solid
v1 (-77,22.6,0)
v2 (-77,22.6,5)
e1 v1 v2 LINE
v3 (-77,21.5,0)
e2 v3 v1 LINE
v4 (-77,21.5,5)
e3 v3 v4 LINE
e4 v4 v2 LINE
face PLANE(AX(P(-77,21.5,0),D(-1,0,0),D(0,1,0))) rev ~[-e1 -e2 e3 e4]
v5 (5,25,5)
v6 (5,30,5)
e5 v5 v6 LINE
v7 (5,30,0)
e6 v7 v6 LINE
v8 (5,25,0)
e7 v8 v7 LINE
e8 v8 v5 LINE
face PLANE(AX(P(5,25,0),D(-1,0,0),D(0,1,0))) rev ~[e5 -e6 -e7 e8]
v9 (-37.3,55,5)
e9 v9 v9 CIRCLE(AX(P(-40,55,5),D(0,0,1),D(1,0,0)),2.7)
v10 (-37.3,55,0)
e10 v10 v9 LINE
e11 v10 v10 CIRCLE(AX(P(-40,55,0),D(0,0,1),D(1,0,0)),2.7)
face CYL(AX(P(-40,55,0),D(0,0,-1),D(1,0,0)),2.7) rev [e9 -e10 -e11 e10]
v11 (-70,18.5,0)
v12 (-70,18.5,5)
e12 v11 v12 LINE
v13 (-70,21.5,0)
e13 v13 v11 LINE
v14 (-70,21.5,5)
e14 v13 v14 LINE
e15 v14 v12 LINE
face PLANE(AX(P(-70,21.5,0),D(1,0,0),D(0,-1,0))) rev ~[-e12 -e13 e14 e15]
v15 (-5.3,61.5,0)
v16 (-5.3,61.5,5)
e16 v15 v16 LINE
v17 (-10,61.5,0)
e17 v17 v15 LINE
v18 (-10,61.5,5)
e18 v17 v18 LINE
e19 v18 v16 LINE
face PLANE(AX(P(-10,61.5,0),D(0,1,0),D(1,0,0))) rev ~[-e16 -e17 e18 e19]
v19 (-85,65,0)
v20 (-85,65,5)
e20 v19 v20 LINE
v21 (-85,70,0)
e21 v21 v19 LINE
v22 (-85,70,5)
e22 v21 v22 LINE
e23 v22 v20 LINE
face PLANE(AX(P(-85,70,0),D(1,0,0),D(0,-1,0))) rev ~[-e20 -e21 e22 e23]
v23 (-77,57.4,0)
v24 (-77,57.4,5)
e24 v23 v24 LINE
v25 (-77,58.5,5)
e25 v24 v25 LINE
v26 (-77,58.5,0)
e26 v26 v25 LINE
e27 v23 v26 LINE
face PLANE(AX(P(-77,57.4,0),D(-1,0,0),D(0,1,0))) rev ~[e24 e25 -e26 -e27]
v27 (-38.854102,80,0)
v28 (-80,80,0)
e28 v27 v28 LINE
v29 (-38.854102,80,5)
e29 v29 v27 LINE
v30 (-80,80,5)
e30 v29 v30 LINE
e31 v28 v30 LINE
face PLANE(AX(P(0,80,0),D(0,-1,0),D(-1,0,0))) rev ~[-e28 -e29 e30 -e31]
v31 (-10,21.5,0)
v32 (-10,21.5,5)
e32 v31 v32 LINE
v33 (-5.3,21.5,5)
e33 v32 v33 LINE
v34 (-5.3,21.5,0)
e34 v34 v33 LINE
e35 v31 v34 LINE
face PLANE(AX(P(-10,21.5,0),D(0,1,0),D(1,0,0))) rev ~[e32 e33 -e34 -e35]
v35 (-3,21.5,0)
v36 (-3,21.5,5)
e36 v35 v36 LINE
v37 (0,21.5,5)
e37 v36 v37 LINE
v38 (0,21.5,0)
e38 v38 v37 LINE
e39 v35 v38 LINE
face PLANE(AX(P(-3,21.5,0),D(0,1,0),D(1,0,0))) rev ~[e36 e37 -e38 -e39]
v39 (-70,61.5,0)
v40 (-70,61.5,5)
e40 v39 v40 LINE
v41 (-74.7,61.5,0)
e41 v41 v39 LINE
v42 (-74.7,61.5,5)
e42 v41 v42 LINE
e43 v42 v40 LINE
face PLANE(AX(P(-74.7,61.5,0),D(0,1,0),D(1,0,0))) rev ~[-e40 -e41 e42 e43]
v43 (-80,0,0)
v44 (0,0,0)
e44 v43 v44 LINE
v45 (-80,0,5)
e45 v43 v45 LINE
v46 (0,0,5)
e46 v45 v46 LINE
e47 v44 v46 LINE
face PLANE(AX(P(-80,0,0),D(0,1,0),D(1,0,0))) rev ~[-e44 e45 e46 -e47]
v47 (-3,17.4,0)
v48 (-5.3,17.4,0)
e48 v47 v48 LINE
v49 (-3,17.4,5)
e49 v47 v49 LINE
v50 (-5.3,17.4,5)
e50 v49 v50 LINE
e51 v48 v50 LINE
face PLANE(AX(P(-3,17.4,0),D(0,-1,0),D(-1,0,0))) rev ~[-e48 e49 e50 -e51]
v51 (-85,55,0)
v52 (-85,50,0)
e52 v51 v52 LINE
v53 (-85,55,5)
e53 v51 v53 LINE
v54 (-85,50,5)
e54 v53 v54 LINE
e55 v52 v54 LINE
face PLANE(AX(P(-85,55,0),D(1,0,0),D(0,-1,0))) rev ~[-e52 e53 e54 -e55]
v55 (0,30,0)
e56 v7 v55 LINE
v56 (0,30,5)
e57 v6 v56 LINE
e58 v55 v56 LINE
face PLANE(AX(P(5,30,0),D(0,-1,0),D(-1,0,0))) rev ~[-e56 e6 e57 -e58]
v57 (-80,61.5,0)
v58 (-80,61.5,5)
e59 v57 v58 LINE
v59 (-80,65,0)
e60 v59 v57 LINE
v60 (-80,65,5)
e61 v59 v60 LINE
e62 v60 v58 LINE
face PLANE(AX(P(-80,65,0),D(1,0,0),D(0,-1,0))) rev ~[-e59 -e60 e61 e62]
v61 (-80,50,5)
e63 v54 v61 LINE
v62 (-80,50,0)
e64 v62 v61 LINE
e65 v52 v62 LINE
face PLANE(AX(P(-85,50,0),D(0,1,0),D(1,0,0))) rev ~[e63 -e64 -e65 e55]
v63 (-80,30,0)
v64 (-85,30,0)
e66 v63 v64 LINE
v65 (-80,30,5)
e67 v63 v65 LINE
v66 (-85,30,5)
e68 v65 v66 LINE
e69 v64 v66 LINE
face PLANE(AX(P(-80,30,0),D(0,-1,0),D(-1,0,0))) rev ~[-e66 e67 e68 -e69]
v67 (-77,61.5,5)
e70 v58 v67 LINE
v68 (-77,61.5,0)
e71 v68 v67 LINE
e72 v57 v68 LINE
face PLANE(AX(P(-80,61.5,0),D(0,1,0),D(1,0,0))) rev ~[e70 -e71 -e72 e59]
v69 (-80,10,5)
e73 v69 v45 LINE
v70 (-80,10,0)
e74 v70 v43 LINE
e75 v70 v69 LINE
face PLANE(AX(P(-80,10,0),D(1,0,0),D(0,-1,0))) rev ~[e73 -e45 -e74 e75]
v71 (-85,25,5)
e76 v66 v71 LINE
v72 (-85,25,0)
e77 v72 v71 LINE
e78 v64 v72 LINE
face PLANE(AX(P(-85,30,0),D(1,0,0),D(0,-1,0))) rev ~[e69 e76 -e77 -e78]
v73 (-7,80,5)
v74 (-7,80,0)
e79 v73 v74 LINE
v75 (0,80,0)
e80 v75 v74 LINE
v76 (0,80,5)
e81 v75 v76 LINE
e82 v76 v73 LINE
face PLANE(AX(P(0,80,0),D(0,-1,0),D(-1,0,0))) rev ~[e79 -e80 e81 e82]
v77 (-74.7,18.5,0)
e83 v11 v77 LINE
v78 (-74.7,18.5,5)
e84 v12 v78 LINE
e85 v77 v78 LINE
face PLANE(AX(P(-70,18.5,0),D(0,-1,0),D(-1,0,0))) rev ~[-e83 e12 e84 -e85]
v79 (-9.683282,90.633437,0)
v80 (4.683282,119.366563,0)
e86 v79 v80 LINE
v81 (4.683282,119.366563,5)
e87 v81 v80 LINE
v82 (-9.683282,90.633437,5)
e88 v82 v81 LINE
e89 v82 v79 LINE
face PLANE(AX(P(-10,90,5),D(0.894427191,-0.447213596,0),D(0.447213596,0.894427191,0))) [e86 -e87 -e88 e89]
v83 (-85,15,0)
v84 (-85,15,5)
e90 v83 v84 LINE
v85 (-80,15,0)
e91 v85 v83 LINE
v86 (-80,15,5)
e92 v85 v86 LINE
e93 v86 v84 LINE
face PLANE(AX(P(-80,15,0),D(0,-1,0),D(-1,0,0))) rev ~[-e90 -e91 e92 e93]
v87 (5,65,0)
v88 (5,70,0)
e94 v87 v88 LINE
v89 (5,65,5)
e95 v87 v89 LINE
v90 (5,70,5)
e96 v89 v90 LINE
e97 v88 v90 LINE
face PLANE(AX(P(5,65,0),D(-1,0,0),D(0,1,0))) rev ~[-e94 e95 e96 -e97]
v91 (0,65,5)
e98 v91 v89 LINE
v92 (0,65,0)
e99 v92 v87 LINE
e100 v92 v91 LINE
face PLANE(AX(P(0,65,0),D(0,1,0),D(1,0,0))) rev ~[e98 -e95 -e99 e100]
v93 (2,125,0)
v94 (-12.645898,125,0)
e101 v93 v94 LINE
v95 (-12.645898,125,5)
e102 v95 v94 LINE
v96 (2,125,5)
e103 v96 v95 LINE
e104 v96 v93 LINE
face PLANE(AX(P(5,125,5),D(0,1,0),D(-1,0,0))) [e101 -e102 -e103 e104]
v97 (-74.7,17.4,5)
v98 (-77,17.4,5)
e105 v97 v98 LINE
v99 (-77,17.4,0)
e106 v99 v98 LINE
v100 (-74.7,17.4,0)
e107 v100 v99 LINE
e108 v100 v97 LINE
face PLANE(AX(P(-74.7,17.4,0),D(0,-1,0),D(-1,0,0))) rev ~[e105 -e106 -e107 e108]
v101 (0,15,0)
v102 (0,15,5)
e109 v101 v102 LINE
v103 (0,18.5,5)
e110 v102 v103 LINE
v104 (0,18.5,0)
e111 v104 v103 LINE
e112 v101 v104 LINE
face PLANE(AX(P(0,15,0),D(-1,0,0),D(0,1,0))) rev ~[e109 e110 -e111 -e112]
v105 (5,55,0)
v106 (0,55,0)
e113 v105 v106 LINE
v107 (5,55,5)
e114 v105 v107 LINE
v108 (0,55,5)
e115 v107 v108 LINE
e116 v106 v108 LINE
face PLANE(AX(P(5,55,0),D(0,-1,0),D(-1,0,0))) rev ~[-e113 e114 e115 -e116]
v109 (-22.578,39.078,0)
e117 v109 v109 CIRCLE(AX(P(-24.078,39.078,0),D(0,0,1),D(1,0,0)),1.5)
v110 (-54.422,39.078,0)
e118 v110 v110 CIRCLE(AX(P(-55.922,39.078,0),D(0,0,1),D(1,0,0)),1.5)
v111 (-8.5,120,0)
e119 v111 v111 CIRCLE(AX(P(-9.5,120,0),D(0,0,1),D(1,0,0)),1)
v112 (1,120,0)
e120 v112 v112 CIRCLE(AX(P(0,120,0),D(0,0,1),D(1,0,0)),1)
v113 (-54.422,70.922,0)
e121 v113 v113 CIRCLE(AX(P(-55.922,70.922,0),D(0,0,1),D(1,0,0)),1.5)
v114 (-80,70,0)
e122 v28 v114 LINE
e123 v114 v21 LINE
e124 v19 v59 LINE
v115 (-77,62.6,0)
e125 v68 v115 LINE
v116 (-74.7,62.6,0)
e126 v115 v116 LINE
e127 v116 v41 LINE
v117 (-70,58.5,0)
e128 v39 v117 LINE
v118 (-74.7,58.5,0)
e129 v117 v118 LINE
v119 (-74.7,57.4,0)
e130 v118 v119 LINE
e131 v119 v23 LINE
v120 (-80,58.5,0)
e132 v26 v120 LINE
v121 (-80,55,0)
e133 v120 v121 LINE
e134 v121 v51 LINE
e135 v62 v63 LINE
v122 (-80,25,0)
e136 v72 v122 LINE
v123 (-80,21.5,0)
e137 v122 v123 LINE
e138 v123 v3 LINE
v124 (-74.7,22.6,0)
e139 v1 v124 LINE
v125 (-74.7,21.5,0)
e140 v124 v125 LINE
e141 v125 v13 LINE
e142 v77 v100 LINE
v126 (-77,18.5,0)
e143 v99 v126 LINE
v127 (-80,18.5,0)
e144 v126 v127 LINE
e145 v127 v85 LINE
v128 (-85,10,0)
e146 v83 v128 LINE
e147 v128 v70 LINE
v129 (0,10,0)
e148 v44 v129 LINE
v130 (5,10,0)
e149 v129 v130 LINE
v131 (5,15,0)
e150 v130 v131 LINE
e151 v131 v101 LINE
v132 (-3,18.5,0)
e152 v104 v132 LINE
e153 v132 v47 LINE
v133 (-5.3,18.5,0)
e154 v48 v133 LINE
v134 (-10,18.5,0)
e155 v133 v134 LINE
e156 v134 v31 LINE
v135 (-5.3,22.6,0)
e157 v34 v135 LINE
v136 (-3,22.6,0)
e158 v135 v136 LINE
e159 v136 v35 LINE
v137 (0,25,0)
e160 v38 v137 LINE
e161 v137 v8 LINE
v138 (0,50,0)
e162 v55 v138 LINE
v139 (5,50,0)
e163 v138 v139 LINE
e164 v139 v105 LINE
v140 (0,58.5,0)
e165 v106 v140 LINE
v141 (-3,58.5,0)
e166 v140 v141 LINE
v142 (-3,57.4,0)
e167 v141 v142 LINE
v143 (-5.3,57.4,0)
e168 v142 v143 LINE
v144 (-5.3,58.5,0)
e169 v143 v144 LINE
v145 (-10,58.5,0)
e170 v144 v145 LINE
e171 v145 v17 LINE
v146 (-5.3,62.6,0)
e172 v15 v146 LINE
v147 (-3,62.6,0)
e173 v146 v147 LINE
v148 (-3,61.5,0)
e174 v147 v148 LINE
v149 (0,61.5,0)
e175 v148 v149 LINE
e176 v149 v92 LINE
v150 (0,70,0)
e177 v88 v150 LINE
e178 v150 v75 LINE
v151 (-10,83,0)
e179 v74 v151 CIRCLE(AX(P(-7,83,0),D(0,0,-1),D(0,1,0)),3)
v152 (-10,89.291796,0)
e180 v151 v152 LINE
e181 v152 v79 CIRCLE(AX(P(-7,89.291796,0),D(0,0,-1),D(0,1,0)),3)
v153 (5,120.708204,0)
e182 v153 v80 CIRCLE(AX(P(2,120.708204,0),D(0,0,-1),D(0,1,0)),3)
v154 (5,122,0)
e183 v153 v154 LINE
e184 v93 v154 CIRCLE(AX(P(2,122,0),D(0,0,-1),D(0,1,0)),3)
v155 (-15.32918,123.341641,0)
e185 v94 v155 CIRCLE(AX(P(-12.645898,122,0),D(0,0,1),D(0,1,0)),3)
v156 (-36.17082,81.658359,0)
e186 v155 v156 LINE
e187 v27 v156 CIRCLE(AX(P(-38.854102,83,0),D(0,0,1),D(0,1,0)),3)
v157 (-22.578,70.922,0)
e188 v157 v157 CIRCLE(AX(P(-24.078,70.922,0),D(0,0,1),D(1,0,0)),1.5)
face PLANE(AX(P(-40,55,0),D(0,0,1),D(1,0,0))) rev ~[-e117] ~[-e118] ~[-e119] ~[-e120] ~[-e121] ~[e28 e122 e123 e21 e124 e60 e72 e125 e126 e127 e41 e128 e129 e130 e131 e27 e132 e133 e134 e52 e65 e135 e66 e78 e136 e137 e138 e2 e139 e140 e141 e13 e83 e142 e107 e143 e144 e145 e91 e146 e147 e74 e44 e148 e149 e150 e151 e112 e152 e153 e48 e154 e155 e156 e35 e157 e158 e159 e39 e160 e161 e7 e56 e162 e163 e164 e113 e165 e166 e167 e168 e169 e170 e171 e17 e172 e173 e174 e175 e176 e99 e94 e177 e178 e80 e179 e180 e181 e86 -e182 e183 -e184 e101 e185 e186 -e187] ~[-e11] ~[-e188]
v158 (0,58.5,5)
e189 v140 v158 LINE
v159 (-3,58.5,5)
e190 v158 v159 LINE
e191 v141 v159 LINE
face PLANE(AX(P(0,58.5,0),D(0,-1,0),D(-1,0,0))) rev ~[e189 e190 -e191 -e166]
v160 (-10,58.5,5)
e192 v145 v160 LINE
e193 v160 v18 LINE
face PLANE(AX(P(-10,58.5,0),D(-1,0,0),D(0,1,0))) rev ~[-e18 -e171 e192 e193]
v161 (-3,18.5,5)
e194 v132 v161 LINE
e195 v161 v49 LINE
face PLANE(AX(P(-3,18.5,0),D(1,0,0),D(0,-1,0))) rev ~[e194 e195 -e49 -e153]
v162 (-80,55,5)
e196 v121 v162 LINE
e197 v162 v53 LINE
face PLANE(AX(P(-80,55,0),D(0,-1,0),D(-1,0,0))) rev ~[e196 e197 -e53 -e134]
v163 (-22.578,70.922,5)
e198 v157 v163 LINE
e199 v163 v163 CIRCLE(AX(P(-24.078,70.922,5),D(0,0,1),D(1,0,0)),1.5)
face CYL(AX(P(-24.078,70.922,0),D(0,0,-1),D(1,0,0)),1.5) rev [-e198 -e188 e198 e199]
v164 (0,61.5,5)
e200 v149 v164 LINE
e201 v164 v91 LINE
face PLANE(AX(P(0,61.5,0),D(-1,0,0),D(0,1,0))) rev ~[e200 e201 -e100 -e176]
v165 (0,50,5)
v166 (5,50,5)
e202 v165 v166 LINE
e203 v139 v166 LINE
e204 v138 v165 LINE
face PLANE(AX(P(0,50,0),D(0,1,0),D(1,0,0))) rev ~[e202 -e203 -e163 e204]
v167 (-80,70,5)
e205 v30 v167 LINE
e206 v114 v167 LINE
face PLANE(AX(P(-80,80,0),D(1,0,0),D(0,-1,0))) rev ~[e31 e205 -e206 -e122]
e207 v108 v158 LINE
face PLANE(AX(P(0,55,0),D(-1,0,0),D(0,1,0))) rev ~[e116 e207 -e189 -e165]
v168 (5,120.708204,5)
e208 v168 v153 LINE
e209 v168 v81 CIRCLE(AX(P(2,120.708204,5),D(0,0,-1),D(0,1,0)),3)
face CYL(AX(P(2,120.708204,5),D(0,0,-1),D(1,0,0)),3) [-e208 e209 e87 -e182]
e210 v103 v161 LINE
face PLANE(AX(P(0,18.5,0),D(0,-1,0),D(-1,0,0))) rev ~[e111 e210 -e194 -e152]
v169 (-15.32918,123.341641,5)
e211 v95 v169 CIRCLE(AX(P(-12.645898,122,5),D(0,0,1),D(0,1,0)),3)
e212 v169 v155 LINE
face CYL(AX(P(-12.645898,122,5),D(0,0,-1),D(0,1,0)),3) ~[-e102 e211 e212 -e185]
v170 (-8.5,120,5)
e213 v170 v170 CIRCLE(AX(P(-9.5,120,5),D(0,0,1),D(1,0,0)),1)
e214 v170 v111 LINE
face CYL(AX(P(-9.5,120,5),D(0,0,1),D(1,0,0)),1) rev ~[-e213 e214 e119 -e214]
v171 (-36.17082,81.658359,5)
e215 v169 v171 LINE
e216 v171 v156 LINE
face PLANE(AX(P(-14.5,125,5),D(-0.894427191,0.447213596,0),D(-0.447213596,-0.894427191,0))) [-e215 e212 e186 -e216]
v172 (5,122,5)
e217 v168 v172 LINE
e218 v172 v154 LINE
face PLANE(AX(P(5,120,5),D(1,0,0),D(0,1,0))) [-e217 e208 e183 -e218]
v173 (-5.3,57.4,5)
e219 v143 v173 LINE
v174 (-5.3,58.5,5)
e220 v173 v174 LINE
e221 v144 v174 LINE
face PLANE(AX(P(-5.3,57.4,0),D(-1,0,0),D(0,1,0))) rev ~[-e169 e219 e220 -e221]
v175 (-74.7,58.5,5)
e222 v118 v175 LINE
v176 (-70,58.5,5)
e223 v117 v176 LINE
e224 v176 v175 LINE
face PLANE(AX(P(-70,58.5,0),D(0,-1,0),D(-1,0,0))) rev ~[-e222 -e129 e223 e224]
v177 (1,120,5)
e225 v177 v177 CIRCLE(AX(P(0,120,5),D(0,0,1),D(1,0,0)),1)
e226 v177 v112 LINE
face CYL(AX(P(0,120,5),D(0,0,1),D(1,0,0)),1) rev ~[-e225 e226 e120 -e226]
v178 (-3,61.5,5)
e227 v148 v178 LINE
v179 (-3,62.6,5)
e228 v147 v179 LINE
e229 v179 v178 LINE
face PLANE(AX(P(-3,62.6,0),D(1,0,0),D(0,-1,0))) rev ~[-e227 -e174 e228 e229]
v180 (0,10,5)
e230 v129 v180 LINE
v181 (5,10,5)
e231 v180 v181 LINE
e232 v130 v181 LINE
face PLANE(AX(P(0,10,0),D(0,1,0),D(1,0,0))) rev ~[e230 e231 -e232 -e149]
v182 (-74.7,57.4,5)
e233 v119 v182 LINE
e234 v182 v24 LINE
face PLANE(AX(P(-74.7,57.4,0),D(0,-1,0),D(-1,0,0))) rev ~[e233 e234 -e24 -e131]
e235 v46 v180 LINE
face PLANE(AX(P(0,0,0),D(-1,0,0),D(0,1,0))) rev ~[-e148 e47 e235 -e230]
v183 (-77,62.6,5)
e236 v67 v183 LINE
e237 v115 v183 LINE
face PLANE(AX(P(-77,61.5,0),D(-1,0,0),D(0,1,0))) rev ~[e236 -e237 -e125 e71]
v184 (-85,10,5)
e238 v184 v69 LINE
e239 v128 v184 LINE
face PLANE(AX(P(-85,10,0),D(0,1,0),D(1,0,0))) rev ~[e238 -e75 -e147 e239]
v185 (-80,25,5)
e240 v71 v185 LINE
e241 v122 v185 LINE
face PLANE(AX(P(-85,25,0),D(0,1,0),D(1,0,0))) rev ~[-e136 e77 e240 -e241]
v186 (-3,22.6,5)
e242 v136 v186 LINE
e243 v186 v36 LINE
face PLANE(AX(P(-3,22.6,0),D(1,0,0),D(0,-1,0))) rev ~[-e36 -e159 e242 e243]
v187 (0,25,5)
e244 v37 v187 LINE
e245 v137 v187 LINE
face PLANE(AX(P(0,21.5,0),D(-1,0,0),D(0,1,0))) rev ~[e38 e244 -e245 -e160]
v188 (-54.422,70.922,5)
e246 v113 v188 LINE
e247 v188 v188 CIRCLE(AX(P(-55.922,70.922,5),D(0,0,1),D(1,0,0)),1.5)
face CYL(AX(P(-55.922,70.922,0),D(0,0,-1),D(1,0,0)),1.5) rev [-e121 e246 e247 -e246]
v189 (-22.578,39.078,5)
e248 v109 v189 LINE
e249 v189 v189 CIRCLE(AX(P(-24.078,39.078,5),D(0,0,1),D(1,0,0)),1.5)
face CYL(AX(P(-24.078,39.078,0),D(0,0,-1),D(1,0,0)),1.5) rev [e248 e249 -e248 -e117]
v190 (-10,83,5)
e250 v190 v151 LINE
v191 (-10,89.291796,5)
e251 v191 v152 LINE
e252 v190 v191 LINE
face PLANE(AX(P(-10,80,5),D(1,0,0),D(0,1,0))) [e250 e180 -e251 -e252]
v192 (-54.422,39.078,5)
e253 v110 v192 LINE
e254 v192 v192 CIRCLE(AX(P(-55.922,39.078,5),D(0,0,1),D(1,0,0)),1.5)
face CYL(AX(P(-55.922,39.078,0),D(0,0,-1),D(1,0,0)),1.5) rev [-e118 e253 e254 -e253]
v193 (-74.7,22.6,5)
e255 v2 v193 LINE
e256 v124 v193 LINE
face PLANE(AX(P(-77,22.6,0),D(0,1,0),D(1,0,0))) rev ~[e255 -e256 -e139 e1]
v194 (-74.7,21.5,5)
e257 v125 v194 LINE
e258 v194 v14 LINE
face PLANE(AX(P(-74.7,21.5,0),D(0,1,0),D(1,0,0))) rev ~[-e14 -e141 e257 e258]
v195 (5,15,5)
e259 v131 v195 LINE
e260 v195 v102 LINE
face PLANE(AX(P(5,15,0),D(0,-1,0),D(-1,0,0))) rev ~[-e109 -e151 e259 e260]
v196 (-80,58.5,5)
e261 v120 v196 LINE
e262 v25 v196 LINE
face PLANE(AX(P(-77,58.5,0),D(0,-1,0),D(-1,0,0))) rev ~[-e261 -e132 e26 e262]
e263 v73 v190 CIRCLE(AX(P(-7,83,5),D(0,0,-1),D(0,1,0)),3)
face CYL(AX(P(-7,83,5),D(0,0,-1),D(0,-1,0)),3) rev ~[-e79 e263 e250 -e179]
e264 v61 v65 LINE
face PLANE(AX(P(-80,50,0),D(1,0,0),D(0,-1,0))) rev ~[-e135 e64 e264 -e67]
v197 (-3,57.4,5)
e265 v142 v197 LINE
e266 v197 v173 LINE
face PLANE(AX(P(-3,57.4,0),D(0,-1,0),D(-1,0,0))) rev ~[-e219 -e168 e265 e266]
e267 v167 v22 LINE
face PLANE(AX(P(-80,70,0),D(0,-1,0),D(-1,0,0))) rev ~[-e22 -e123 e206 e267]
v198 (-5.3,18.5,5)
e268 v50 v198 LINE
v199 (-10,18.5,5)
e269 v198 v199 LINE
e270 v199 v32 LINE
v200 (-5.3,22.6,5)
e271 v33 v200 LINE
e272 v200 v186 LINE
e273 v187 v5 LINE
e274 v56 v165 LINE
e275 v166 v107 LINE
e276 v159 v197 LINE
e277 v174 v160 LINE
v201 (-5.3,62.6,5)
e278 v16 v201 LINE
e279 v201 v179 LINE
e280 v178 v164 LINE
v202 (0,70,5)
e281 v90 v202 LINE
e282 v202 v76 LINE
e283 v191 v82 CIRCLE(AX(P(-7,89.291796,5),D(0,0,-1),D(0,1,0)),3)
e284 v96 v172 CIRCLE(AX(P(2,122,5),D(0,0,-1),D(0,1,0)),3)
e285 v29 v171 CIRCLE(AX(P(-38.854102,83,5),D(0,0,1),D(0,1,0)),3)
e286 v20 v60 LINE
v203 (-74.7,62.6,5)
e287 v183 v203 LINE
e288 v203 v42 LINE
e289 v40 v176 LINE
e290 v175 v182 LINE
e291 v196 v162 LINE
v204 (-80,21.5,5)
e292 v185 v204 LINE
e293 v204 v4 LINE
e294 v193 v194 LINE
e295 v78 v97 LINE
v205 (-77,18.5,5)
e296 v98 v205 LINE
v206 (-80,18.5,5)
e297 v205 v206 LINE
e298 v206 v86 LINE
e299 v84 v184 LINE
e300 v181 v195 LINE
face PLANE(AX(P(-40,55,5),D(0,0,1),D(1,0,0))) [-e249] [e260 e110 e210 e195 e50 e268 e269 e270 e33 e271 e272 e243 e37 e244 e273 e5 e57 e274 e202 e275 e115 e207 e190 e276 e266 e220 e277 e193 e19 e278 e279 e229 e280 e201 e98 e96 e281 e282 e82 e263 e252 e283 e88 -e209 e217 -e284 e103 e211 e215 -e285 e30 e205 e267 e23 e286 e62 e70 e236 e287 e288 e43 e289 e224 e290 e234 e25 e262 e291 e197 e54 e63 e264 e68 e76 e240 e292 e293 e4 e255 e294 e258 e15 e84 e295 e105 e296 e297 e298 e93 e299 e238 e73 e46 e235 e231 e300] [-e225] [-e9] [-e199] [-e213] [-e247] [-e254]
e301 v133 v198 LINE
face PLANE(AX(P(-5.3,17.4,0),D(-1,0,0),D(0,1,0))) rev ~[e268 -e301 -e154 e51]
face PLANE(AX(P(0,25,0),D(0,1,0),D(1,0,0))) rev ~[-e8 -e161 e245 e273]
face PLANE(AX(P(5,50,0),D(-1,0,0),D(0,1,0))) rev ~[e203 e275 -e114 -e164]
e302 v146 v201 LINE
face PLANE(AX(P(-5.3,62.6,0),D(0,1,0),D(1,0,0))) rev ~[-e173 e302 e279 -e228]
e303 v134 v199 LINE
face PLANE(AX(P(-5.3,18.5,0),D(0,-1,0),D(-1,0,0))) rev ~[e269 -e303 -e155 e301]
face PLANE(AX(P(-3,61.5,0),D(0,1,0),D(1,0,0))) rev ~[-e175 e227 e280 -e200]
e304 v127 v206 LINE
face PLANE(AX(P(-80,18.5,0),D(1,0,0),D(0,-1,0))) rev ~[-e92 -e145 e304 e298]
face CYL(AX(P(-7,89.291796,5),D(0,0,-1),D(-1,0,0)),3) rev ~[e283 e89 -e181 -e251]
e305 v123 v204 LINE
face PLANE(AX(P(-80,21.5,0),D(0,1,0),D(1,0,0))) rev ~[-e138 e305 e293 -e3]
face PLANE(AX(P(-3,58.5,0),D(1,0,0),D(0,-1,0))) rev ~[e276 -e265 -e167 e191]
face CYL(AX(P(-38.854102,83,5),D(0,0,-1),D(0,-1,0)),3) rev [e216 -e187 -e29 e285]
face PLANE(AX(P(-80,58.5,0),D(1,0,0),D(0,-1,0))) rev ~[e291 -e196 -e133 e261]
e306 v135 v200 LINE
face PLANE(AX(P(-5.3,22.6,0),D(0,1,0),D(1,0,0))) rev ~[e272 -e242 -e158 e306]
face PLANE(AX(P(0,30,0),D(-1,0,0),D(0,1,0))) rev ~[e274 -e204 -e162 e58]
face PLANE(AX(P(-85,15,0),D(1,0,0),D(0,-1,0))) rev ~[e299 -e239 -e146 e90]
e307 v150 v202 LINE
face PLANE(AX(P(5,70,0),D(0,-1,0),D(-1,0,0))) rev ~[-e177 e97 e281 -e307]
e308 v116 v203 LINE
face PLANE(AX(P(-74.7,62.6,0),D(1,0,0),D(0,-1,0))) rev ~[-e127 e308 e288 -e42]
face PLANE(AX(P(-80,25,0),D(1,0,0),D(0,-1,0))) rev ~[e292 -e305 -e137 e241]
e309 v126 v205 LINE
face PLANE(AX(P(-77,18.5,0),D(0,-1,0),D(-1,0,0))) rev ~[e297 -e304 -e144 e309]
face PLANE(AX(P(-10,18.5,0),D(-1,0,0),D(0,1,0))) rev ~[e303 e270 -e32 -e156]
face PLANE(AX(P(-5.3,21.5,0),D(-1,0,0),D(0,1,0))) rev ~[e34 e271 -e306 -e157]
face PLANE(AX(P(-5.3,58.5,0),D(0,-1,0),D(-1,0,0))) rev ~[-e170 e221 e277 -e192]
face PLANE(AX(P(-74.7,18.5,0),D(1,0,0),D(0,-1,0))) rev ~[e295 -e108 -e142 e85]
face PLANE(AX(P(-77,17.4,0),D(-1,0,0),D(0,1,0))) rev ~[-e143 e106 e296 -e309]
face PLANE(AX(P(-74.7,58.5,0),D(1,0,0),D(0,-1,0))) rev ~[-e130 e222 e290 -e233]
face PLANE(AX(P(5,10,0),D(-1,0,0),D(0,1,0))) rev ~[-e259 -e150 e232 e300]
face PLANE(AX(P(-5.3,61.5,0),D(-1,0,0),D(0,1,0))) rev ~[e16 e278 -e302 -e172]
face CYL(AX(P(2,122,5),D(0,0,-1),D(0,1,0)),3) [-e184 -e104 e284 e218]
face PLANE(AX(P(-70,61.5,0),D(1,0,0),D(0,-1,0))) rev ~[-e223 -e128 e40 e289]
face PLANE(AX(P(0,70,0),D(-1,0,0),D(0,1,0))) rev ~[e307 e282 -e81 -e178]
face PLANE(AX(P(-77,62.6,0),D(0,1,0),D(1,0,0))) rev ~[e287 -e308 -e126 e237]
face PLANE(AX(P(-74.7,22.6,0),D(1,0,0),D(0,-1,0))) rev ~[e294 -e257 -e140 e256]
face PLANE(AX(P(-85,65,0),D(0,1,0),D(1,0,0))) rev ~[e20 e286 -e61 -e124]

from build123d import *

# Parameters (mm, degrees)
SKETCH1_R           = 1.5
SKETCH1_R_2         = 11.5
BOSS_EXTRUDE1_DEPTH = 5
BOSS_EXTRUDE2_START = -5
SKETCH2_R           = 11.5
SKETCH2_R_2         = 2.7
BOSS_EXTRUDE2_DEPTH = 5
SKETCH3_R           = 1
BOSS_EXTRUDE3_DEPTH = 5
FILLET1_R           = 3


with BuildPart() as part:
    # Sketch1 → Boss-Extrude1 (new body)
    with BuildSketch(Plane.XY):
        Polygon((0, 80), (-80, 80), (-80, 70), (-85, 70), (-85, 65), (-80, 65), (-80, 61.5), (-77, 61.5), (-77, 62.6), (-74.7, 62.6), (-74.7, 61.5), (-70, 61.5), (-70, 58.5), (-74.7, 58.5), (-74.7, 57.4), (-77, 57.4), (-77, 58.5), (-80, 58.5), (-80, 55), (-85, 55), (-85, 50), (-80, 50), (-80, 30), (-85, 30), (-85, 25), (-80, 25), (-80, 21.5), (-77, 21.5), (-77, 22.6), (-74.7, 22.6), (-74.7, 21.5), (-70, 21.5), (-70, 18.5), (-74.7, 18.5), (-74.7, 17.4), (-77, 17.4), (-77, 18.5), (-80, 18.5), (-80, 15), (-85, 15), (-85, 10), (-80, 10), (-80, 0), (0, 0), (0, 10), (5, 10), (5, 15), (0, 15), (0, 18.5), (-3, 18.5), (-3, 17.4), (-5.3, 17.4), (-5.3, 18.5), (-10, 18.5), (-10, 21.5), (-5.3, 21.5), (-5.3, 22.6), (-3, 22.6), (-3, 21.5), (0, 21.5), (0, 25), (5, 25), (5, 30), (0, 30), (0, 50), (5, 50), (5, 55), (0, 55), (0, 58.5), (-3, 58.5), (-3, 57.4), (-5.3, 57.4), (-5.3, 58.5), (-10, 58.5), (-10, 61.5), (-5.3, 61.5), (-5.3, 62.6), (-3, 62.6), (-3, 61.5), (0, 61.5), (0, 65), (5, 65), (5, 70), (0, 70), align=None)
        with Locations((-55.922, 70.922)):
            Circle(SKETCH1_R, mode=Mode.SUBTRACT)
        with Locations((-24.078, 70.922)):
            Circle(SKETCH1_R, mode=Mode.SUBTRACT)
        with Locations((-24.078, 39.078)):
            Circle(SKETCH1_R, mode=Mode.SUBTRACT)
        with Locations((-55.922, 39.078)):
            Circle(SKETCH1_R, mode=Mode.SUBTRACT)
        with Locations((-40, 55)):
            Circle(SKETCH1_R_2, mode=Mode.SUBTRACT)
    extrude(amount=BOSS_EXTRUDE1_DEPTH)

    # Sketch2 → Boss-Extrude2 (add)
    with BuildSketch(Plane.XY.offset(5).offset(BOSS_EXTRUDE2_START)):
        with Locations((-40, 55)):
            Circle(SKETCH2_R)
        with Locations((-40, 55)):
            Circle(SKETCH2_R_2, mode=Mode.SUBTRACT)
    extrude(amount=BOSS_EXTRUDE2_DEPTH)

    # Sketch3 → Boss-Extrude3 (add)
    with BuildSketch(Plane.XY.offset(5)):
        Polygon((5, 125), (-14.5, 125), (-37, 80), (-10, 80), (-10, 90), (5, 120), align=None)
        with Locations((-9.5, 120)):
            Circle(SKETCH3_R, mode=Mode.SUBTRACT)
        with Locations((0, 120)):
            Circle(SKETCH3_R, mode=Mode.SUBTRACT)
    extrude(amount=-BOSS_EXTRUDE3_DEPTH)

    # Fillet1
    fillet1_edges = [part.edges().sort_by_distance(p)[0] for p in [
        (-10, 90, 2.5),
        (-10, 80, 2.5),
        (-37, 80, 2.5),
        (-14.5, 125, 2.5),
        (5, 125, 2.5),
        (5, 120, 2.5),
    ]]
    fillet(fillet1_edges, radius=FILLET1_R)


solid = part.part
